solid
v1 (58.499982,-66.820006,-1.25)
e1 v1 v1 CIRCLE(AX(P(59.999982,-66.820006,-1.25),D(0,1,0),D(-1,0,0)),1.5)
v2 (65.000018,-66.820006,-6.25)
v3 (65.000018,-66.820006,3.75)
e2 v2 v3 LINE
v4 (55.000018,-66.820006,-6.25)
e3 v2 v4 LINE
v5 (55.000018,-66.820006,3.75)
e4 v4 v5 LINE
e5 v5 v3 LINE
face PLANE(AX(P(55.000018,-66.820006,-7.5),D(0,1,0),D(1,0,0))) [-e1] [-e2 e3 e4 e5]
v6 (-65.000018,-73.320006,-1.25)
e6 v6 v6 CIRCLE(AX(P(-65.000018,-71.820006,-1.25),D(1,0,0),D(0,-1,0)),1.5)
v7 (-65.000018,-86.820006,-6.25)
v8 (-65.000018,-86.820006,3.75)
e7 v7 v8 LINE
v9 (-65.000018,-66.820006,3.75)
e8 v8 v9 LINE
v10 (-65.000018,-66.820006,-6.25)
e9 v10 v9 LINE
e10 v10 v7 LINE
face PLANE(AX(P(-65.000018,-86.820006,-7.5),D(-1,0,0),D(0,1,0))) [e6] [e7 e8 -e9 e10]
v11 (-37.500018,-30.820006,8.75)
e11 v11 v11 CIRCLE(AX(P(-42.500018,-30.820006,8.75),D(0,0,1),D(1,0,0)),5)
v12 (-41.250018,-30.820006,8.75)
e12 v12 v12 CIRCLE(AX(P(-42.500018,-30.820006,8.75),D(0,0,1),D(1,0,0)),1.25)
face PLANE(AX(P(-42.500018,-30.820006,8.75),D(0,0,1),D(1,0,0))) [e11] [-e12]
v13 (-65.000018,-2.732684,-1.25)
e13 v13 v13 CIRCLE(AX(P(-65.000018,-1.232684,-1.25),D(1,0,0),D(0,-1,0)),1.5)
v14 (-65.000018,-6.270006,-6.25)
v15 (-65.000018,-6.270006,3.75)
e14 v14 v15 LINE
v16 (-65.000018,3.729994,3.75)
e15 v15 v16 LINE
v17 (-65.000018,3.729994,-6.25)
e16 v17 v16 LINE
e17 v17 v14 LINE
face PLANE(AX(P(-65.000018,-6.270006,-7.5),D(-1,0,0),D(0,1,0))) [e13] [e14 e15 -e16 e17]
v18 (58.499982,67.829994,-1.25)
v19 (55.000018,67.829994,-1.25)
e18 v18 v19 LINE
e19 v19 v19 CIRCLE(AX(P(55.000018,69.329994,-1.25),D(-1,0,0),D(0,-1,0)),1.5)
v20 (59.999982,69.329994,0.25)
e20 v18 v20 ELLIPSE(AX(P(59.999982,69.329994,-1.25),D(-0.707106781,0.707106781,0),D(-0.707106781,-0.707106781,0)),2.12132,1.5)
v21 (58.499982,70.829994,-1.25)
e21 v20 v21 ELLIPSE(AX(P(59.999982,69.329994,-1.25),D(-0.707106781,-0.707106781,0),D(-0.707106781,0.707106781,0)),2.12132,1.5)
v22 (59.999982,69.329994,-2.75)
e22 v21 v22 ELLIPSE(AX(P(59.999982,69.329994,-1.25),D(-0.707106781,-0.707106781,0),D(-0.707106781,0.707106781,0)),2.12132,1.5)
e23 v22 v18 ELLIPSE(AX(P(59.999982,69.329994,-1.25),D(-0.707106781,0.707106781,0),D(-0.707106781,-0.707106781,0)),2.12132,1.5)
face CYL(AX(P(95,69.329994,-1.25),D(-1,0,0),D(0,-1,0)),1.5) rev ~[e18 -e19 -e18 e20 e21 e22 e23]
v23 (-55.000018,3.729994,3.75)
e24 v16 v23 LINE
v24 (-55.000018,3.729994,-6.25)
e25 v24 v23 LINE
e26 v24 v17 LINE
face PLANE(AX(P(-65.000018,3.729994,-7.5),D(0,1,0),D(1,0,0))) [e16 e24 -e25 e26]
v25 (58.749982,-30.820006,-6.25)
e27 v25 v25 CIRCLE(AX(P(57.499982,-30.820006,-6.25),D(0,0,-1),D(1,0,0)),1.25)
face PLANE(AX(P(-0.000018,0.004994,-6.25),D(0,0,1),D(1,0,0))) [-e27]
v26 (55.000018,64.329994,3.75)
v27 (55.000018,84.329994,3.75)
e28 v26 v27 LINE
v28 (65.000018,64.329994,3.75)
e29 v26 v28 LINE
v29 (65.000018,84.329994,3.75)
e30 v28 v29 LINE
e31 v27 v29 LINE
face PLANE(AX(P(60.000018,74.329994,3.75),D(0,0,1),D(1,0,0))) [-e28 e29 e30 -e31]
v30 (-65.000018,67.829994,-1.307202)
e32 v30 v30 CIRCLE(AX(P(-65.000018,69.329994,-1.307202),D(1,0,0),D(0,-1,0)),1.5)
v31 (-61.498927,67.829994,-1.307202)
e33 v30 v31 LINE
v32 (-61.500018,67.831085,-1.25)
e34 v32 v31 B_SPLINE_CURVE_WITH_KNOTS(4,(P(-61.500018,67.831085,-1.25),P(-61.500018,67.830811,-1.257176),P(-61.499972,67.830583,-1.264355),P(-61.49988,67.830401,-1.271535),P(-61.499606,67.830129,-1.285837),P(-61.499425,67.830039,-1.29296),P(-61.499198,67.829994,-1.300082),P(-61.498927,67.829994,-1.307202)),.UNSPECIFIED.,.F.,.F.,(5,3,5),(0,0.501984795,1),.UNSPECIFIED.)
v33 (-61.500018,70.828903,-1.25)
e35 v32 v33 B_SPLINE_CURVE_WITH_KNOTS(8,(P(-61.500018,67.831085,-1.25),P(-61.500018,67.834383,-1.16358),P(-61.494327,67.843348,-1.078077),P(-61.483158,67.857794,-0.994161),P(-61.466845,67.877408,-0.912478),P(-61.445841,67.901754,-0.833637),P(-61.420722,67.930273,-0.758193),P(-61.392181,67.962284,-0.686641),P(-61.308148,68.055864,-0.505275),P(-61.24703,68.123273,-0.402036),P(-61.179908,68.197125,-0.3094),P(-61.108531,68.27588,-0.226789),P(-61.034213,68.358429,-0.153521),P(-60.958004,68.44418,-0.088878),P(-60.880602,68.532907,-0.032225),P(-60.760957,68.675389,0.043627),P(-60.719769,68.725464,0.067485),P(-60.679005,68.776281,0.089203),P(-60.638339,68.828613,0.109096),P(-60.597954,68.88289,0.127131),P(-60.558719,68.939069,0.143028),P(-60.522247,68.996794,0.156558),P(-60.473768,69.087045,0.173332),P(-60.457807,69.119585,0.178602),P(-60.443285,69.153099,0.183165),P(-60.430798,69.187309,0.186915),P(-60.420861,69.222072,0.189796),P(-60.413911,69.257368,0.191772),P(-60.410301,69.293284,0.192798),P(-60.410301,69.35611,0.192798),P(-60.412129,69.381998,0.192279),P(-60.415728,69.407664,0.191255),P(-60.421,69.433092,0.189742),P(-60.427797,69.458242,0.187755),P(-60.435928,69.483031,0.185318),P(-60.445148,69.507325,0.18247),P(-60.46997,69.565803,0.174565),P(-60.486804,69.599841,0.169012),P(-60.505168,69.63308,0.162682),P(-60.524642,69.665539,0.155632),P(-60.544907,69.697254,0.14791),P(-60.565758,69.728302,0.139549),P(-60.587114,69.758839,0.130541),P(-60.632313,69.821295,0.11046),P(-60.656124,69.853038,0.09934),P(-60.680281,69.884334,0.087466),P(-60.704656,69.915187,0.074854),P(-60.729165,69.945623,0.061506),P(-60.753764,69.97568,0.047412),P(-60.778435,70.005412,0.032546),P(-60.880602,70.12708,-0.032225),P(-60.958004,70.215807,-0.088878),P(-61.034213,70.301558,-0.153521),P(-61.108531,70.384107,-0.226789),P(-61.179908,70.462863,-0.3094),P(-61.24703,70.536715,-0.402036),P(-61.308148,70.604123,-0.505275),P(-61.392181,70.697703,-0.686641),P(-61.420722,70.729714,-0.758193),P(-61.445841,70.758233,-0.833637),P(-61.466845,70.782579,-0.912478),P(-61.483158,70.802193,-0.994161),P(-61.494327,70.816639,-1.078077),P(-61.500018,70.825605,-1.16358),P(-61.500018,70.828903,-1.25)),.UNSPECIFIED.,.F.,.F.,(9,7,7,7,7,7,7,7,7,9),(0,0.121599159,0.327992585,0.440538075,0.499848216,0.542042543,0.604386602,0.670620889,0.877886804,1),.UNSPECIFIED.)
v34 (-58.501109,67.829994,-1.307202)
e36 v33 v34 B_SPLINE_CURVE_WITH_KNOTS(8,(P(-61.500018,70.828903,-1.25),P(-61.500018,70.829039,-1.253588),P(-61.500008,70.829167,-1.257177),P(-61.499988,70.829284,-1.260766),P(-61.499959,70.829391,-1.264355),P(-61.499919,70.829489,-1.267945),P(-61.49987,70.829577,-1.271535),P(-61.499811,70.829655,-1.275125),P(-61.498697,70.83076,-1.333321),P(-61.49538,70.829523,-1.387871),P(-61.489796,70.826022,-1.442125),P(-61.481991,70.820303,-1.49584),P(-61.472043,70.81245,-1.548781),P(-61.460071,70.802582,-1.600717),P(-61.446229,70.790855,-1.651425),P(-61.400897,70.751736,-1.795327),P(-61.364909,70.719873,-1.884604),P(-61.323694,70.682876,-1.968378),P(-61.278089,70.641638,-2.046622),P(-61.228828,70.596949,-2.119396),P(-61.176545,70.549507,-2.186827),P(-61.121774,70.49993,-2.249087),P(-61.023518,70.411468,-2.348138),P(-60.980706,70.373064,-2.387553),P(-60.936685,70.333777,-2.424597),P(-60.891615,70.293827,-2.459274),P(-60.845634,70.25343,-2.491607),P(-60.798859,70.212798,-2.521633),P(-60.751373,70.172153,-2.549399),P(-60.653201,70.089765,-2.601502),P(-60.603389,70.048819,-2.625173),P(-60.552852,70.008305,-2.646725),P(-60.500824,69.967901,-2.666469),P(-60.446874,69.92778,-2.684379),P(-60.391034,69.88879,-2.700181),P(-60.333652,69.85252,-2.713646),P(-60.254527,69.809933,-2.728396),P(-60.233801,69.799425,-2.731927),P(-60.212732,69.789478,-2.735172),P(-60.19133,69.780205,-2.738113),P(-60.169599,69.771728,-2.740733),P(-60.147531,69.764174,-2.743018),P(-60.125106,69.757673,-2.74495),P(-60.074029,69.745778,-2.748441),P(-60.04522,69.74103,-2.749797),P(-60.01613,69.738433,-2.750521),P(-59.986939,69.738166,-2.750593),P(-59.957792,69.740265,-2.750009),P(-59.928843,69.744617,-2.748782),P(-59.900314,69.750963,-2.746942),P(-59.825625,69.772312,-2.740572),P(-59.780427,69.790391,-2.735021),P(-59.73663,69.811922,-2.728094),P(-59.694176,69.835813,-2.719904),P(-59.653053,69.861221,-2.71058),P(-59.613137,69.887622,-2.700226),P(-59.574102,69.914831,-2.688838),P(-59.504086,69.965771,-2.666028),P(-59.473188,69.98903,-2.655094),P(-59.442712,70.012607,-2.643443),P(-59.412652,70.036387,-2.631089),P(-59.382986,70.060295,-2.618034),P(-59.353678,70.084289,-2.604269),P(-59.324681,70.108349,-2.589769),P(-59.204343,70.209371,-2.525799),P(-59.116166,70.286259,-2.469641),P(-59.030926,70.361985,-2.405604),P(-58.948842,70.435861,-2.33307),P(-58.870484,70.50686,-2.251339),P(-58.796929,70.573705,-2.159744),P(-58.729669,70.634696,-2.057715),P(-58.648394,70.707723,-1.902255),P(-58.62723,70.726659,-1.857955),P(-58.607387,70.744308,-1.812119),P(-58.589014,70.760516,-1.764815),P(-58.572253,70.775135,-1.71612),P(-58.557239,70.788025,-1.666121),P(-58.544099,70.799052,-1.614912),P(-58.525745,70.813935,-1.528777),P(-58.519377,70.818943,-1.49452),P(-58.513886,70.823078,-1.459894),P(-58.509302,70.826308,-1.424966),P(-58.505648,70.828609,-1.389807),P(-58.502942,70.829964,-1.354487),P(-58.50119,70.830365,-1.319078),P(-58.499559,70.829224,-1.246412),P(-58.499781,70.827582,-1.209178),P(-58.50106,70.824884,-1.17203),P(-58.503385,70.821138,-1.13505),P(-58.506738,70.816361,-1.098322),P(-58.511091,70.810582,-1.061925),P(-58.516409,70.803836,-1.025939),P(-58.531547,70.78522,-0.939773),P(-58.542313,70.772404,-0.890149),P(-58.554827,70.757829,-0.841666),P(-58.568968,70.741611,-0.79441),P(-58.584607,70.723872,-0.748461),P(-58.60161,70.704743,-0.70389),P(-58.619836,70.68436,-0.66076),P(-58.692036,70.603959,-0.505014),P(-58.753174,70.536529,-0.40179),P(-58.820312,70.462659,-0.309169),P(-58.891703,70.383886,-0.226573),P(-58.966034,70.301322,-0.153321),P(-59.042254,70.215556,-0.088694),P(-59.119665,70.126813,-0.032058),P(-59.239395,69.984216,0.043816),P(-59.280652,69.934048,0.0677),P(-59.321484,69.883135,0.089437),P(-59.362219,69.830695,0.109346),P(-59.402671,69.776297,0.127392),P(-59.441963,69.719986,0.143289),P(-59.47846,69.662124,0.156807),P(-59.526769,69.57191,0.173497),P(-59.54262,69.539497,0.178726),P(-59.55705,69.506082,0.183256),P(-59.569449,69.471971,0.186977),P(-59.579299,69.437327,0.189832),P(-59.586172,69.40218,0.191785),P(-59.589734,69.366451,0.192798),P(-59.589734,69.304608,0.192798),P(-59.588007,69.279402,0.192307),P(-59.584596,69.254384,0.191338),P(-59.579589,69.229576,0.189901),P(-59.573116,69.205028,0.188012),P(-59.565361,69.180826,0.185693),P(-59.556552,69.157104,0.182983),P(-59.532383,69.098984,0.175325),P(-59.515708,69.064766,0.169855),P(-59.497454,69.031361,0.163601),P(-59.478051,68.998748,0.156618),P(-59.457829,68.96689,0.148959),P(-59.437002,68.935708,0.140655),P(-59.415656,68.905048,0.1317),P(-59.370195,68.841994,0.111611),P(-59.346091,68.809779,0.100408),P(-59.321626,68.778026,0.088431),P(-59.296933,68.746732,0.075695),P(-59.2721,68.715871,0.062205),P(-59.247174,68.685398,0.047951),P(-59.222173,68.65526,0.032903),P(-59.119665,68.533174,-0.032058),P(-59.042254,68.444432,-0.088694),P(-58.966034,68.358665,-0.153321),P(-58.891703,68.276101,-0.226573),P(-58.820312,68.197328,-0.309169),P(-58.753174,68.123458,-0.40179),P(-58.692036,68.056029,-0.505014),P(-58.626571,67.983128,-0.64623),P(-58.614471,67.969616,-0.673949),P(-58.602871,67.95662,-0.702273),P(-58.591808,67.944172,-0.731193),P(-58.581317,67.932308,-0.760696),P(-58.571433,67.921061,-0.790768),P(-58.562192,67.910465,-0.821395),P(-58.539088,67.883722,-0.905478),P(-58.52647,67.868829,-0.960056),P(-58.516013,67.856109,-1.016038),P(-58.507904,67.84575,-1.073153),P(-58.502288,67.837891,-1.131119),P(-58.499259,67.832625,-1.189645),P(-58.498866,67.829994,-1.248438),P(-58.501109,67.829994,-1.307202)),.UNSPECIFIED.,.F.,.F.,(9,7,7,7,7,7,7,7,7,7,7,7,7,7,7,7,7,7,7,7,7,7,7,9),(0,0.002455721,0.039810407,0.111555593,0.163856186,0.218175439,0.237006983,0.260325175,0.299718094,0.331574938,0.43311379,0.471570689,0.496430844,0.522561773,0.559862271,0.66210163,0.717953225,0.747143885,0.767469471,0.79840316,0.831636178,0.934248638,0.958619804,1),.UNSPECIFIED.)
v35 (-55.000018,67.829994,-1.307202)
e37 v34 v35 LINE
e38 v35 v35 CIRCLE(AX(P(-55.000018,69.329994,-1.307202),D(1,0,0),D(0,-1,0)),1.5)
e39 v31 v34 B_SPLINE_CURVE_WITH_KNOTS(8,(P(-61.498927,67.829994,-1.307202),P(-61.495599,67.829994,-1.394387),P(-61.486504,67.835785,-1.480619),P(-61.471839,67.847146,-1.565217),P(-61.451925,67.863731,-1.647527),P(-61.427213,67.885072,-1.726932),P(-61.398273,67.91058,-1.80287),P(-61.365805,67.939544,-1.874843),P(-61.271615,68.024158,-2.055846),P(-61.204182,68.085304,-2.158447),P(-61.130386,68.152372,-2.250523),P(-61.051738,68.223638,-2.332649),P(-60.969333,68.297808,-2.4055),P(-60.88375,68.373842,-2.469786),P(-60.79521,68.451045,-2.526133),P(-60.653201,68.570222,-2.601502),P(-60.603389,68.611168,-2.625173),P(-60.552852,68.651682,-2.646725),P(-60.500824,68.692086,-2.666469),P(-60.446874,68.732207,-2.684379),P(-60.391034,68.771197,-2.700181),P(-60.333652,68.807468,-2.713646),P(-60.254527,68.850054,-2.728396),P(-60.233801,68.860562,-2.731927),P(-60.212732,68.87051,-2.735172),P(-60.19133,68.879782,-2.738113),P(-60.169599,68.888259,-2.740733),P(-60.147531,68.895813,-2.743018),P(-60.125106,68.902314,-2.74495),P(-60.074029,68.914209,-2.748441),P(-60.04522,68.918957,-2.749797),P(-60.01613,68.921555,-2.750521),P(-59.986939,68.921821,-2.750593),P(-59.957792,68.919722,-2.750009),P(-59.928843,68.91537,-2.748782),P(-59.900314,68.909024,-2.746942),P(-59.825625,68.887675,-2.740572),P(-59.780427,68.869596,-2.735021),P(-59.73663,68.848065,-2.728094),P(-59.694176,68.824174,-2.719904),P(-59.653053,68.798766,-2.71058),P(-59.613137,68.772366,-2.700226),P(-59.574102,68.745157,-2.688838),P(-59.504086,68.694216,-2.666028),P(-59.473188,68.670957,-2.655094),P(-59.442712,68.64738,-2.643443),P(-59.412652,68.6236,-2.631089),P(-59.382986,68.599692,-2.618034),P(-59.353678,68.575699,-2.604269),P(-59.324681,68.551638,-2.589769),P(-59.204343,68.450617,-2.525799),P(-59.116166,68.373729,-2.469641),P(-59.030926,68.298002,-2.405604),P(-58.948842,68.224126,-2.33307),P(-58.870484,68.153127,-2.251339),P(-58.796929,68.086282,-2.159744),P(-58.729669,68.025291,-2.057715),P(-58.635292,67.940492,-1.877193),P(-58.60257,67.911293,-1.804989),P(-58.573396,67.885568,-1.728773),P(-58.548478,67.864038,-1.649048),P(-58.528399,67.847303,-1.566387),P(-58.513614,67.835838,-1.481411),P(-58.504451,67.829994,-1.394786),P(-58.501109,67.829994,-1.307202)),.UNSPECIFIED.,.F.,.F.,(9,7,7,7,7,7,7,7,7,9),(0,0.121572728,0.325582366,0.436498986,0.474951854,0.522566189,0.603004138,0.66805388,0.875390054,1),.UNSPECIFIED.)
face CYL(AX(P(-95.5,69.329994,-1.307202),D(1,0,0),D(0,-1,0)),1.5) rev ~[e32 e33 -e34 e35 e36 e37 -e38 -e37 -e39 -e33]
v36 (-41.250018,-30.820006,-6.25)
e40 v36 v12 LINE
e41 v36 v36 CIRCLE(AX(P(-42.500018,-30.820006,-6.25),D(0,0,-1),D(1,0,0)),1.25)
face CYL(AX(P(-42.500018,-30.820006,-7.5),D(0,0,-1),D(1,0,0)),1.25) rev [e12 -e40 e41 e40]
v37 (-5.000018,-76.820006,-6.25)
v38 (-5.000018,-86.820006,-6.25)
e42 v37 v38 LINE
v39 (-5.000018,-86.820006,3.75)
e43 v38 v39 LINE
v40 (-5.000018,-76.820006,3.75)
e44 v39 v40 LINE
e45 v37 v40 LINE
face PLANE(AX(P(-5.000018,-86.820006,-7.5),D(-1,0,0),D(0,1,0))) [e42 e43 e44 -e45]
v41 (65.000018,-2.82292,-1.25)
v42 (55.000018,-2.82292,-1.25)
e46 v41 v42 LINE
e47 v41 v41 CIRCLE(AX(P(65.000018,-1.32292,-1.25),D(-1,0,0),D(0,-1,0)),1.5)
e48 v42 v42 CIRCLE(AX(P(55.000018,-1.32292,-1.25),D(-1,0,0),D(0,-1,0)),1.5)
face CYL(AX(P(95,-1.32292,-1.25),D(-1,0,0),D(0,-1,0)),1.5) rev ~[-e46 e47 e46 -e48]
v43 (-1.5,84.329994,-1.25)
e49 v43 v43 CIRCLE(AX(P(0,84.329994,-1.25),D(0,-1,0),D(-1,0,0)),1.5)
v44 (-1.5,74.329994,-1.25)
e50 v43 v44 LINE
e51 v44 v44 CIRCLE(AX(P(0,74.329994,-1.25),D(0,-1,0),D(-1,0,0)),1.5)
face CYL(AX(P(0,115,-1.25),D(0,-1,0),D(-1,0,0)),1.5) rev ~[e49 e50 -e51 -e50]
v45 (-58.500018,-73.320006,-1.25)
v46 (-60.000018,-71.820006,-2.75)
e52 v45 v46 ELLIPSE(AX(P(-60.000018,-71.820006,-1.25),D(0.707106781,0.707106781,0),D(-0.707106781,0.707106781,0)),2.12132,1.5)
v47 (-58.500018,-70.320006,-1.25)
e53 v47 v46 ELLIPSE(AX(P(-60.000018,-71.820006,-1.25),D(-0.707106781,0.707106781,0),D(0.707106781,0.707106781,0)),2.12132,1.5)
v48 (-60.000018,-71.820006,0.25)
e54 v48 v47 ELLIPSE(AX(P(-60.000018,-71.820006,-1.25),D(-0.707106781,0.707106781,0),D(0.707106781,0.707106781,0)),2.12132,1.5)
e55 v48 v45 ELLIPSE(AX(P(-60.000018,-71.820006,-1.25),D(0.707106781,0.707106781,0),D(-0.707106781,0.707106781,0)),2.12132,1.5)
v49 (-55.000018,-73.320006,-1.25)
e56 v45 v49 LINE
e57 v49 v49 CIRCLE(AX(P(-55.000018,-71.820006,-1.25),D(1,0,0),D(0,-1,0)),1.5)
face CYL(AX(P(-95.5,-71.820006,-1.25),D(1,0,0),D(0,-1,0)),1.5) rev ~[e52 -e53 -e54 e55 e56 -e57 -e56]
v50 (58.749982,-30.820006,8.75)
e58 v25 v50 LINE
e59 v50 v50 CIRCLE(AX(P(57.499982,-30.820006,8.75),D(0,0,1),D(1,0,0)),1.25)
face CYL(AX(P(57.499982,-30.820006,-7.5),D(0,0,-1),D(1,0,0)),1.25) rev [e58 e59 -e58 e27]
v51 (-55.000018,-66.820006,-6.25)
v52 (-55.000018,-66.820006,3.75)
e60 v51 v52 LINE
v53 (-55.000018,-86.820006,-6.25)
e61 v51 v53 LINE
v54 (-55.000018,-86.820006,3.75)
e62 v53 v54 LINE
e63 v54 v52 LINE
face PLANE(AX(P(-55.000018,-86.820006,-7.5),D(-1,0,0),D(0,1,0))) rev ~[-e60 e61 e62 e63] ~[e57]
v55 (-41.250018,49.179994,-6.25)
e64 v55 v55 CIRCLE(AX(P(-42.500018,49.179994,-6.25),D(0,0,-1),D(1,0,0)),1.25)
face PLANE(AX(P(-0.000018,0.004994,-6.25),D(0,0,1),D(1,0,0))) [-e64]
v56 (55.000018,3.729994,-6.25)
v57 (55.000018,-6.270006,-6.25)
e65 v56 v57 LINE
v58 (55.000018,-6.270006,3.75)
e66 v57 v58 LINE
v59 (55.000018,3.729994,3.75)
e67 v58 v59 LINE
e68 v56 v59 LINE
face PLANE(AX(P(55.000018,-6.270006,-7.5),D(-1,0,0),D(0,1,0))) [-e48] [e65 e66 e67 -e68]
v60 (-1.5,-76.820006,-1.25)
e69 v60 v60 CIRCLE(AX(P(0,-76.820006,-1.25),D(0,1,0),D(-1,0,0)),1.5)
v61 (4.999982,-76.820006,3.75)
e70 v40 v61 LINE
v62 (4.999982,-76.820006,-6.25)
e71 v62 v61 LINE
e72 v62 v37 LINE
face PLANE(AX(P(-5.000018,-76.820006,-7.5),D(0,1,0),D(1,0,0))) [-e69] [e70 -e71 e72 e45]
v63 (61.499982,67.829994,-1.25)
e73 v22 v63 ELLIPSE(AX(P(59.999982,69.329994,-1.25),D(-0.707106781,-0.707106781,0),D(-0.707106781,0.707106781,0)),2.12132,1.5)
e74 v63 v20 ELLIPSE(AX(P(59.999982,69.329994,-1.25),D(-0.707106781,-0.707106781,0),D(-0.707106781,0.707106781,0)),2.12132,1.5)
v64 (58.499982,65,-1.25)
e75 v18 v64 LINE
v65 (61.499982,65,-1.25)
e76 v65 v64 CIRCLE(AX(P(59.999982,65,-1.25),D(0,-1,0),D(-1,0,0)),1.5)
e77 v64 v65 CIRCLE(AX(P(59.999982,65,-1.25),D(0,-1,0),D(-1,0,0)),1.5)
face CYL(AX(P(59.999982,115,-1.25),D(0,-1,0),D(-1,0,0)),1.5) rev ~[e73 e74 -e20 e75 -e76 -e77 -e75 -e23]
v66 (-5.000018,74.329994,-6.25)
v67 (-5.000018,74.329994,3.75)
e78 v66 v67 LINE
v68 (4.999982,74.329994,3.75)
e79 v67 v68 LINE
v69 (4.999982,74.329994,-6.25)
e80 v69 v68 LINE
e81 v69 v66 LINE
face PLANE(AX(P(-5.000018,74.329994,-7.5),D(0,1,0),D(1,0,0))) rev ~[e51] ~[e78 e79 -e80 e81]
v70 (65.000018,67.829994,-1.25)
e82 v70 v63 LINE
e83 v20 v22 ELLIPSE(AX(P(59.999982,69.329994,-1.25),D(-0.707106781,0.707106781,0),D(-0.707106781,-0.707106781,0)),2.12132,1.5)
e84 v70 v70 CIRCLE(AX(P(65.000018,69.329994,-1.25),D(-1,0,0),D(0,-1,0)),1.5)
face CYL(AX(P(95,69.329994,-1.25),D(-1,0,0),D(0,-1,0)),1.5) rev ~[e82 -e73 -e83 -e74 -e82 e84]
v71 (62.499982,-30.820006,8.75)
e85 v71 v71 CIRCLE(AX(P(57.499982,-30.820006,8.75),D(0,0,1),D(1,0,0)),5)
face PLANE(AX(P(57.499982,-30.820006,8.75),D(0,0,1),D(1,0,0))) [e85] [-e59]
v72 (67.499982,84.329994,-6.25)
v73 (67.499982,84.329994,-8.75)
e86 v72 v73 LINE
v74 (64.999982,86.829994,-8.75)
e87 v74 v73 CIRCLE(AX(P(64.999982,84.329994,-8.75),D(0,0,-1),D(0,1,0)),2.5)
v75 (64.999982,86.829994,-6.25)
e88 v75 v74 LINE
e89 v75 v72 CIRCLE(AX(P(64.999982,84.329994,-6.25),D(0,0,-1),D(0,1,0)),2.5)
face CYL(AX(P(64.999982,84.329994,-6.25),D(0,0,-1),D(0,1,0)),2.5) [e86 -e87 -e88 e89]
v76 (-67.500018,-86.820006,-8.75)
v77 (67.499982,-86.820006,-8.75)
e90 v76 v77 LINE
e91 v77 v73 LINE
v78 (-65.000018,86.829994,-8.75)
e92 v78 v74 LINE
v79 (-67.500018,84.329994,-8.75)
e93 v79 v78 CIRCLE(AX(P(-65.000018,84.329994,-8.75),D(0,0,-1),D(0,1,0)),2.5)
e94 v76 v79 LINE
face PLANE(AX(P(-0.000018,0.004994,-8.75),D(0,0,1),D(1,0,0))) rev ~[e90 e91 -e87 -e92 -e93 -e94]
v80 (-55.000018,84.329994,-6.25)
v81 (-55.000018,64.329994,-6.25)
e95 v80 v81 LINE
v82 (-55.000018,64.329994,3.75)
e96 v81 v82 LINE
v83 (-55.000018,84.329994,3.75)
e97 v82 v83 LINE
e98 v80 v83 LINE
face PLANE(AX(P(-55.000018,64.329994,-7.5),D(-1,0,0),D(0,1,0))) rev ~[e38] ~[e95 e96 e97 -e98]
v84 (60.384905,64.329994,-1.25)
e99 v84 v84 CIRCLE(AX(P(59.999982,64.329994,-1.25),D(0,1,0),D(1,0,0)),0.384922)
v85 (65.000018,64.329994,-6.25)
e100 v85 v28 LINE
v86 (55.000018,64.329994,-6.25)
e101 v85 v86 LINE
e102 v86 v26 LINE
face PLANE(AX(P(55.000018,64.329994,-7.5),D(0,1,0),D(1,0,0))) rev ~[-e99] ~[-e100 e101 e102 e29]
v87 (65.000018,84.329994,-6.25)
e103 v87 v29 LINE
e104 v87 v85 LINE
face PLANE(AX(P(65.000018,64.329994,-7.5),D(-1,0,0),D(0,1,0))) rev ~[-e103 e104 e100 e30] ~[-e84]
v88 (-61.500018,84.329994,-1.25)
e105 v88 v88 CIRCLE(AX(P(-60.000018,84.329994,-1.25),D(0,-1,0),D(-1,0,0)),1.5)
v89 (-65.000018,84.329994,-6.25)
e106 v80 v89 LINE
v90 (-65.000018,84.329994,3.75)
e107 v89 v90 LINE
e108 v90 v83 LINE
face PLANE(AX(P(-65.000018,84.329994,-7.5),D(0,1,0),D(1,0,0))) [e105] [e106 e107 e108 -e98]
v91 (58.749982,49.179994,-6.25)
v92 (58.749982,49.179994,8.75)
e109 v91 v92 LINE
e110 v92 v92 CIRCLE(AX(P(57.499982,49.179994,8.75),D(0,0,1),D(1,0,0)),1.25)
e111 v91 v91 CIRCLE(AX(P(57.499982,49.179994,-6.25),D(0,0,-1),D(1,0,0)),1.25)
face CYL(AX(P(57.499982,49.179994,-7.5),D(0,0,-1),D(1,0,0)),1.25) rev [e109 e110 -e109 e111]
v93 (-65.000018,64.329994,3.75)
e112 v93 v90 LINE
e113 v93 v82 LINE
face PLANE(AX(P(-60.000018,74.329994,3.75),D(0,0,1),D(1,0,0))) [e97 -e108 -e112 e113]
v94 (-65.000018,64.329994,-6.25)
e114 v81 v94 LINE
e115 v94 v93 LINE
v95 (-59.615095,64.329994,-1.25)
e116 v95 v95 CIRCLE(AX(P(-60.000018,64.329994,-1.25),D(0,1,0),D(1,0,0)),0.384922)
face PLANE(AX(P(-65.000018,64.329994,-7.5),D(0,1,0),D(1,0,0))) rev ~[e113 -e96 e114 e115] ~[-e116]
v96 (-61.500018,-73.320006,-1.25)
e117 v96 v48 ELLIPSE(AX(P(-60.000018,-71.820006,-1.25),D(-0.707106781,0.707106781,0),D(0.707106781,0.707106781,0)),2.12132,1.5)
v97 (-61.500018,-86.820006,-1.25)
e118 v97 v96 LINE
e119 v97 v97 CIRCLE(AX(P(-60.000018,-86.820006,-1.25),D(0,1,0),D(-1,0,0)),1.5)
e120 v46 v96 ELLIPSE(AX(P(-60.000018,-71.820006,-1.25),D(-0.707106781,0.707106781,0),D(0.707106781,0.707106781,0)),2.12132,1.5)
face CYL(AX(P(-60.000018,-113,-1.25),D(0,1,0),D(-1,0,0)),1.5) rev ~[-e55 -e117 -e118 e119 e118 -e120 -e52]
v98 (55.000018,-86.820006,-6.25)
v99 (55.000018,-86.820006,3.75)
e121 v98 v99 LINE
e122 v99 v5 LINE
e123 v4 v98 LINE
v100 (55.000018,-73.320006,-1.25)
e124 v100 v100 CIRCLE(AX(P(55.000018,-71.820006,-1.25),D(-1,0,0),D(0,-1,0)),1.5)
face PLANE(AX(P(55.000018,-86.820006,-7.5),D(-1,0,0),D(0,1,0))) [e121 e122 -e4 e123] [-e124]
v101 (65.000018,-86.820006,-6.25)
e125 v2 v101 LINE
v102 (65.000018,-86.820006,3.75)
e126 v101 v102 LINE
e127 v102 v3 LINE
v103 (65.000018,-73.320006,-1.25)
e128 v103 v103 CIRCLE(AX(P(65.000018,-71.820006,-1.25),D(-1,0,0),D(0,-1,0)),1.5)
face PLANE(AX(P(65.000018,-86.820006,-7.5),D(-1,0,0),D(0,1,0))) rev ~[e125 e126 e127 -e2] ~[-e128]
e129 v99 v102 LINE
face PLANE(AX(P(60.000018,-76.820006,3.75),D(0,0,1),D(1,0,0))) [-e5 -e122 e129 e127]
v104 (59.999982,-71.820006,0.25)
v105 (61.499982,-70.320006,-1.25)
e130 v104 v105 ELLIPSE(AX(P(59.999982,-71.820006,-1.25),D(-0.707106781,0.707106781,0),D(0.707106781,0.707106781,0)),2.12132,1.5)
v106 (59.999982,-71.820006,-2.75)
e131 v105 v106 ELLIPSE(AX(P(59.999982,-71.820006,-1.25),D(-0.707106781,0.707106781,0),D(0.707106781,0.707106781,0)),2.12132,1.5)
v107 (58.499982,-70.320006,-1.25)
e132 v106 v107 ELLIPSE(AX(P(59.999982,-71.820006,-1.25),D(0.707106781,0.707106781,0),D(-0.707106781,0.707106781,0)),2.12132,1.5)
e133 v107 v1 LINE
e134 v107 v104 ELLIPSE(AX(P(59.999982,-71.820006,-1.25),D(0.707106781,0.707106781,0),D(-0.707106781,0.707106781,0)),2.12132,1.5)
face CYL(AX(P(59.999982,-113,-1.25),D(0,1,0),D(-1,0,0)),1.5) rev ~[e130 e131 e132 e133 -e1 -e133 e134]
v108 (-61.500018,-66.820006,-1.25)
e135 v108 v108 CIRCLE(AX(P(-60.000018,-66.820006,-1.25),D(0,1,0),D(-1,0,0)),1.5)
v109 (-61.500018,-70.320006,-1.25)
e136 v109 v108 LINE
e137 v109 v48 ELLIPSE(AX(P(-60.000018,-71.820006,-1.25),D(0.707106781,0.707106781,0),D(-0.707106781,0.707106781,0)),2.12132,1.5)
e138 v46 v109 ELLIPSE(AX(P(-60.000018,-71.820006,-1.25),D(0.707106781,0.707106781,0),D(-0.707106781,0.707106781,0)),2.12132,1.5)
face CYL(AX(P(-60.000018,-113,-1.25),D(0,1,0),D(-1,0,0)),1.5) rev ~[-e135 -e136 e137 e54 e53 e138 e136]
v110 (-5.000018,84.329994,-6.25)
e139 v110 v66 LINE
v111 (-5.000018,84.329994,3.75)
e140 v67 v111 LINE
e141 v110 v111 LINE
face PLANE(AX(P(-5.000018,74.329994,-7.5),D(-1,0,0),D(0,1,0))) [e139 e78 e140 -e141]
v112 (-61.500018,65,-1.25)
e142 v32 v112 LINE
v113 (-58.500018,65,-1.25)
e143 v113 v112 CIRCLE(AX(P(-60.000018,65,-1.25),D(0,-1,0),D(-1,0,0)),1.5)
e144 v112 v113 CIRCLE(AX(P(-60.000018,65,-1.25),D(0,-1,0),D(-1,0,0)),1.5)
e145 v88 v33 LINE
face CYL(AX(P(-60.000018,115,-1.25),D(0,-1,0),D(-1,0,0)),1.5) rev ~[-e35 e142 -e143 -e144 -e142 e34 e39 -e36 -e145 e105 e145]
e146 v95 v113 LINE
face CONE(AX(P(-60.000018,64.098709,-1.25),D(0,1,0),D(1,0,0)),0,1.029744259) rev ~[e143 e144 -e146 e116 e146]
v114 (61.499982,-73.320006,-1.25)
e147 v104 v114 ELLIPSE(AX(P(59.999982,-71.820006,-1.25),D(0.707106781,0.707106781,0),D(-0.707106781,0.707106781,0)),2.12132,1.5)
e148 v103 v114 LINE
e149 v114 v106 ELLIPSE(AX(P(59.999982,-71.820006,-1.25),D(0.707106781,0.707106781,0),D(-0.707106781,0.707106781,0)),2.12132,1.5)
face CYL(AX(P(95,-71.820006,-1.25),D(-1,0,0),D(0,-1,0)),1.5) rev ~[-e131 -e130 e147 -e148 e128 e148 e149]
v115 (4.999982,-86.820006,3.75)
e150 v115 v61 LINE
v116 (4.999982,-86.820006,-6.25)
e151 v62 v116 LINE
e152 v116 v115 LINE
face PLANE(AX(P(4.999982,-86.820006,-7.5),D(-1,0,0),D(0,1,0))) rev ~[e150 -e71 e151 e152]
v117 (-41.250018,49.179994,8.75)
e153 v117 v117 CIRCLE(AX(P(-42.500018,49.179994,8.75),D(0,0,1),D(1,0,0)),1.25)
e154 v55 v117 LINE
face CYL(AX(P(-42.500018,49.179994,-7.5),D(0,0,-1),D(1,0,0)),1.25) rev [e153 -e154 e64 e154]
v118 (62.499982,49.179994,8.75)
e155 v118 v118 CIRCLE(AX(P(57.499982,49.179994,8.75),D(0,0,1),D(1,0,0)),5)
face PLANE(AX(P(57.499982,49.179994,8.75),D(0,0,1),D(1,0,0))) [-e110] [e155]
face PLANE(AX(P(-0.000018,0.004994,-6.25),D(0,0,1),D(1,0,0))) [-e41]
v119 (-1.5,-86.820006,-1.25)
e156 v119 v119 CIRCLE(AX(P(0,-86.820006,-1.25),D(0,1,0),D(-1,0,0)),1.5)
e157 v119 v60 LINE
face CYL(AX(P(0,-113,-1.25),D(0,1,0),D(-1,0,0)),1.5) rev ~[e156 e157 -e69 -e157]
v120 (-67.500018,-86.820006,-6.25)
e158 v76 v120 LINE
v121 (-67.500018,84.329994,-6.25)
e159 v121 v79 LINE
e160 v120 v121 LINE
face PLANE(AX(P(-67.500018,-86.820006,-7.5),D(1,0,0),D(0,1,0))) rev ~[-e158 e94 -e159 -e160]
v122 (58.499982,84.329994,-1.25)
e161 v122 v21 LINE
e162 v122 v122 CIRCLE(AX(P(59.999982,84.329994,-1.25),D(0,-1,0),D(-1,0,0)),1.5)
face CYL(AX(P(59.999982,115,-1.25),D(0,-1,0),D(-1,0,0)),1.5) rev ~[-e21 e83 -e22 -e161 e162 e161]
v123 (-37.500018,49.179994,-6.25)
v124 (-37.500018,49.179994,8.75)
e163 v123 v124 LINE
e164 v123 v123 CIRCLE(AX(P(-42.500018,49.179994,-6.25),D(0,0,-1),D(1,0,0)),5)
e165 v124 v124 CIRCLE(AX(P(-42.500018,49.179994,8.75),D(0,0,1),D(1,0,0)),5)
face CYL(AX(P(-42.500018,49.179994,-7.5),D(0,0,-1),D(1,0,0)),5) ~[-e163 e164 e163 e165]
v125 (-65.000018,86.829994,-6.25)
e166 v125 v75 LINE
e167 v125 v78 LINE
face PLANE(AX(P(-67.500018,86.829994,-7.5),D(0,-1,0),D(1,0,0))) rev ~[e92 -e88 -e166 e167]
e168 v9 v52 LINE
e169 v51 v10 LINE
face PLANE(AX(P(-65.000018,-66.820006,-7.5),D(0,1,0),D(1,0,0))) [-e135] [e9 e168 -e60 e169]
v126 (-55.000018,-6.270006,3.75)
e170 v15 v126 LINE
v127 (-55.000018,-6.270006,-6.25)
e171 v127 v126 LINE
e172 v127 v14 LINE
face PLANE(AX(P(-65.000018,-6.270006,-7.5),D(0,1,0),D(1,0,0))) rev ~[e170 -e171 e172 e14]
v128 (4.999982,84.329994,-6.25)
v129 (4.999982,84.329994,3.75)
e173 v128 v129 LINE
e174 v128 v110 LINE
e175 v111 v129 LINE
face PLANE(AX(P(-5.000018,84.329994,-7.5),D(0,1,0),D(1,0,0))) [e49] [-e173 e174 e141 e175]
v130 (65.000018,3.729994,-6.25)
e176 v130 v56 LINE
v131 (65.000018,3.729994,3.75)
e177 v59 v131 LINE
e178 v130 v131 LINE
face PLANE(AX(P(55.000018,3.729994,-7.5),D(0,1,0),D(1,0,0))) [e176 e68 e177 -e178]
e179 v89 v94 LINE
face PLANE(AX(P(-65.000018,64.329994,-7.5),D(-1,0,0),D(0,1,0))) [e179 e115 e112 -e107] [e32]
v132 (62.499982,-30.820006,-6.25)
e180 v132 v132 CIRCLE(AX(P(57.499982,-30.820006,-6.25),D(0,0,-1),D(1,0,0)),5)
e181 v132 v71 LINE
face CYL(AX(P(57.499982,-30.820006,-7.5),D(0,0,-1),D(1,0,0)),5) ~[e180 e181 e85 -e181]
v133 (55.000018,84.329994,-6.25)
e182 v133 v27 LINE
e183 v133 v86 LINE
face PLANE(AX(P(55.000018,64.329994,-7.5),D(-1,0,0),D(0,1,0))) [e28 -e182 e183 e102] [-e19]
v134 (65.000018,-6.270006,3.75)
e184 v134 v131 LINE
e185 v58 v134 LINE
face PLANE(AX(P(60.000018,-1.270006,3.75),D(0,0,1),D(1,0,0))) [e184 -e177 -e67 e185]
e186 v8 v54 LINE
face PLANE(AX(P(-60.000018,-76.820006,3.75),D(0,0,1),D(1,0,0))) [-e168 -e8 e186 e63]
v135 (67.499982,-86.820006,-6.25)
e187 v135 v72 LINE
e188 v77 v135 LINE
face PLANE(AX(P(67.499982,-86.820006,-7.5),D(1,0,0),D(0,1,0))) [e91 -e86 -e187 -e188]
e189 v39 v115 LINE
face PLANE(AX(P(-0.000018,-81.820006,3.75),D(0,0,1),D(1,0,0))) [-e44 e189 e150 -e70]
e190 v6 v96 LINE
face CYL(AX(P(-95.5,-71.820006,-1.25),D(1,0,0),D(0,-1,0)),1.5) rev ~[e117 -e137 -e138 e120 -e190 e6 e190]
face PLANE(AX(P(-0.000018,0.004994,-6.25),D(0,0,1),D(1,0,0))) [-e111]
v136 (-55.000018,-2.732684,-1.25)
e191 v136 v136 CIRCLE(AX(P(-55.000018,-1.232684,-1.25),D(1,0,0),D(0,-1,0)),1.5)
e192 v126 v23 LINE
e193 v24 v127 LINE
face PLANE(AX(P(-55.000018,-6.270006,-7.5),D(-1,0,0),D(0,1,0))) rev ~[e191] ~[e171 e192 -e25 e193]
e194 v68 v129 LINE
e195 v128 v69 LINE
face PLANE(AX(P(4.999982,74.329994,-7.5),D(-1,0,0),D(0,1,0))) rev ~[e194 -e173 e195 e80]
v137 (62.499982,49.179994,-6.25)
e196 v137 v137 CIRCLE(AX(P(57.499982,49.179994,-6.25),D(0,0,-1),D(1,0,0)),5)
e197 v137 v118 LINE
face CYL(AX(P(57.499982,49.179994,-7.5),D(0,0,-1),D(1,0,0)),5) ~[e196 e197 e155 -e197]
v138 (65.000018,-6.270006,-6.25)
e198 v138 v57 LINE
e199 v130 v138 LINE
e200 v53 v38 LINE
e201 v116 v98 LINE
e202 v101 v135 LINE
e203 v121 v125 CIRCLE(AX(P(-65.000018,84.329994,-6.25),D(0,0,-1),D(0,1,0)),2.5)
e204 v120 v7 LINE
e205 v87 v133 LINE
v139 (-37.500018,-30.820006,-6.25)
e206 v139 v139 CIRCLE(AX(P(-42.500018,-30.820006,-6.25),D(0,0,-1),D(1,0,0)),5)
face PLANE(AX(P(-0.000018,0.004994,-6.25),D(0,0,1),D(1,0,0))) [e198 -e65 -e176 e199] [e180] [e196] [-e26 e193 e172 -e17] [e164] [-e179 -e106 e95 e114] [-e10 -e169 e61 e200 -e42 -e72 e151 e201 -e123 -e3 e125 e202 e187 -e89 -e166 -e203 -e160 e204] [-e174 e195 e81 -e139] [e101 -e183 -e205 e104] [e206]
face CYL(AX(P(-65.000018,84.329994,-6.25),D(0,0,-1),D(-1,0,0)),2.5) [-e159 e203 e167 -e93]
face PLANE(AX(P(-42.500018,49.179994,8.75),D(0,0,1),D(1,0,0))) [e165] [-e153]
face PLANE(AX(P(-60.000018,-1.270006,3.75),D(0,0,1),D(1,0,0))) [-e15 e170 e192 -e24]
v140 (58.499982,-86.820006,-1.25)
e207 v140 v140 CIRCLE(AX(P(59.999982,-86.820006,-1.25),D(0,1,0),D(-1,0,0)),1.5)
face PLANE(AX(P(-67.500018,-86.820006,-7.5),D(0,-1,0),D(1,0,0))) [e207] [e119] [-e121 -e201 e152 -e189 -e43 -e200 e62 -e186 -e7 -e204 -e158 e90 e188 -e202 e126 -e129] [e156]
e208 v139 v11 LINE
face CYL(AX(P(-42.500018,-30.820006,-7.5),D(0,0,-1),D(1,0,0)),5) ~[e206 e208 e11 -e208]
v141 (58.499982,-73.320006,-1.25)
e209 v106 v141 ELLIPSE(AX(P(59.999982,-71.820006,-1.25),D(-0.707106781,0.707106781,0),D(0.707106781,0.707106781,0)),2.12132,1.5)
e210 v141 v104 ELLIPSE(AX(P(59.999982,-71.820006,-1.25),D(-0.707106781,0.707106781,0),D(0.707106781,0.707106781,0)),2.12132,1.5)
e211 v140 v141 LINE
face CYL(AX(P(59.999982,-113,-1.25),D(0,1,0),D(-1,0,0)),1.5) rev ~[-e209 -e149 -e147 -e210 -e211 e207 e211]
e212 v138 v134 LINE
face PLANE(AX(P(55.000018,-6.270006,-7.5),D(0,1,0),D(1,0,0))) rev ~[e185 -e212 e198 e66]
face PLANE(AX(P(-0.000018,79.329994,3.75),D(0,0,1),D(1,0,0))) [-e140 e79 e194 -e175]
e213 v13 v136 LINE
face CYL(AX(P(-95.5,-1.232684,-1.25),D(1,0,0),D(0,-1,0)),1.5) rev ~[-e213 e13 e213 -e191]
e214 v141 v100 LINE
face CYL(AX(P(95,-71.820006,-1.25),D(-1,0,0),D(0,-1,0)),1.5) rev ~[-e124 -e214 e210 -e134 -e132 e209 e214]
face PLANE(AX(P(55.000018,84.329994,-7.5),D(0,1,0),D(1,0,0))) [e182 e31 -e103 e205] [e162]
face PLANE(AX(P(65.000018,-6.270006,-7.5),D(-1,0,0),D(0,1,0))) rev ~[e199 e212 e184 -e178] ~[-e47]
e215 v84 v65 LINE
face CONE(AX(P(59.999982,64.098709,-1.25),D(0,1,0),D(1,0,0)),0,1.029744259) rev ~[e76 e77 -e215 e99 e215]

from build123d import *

# Parameters (mm, degrees)
F1_W      = 135
F1_H      = 173.65
F2_DEPTH  = 1.25
F3_W      = 10
F3_H      = 10
F3_H_2    = 20
F4_DEPTH  = 11.25
F5_R      = 5
F5_R_2    = 1.25
F6_DEPTH  = 16.25
F7_R      = 2.5
F16_D     = 3
F16_DEPTH = 25
F16_TIP   = 0.9012909285
F17_D     = 3
F17_DEPTH = 25
F17_TIP   = 0.9012909285
F18_D     = 3
F18_DEPTH = 25
F18_TIP   = 0.9012909285
F19_D     = 3
F19_DEPTH = 25
F19_TIP   = 0.9012909285


with BuildPart() as f2:
    # F1 (on offset) → F2 (new body, symmetric)
    with BuildSketch(Plane.XY.offset(-7.5)):
        with Locations((-1.75834e-05, 0.0049936295)):
            Rectangle(F1_W, F1_H)
    extrude(amount=F2_DEPTH, both=True)

    # F3 (on offset) → F4 (join)
    with BuildSketch(Plane.XY.offset(-7.5)):
        with Locations((-60.0000175834, -1.2700063705)):
            Rectangle(F3_W, F3_H)
        with Locations((-1.75834e-05, 79.3299936295)):
            Rectangle(F3_W, F3_H)
        with Locations((-60.0000175834, 74.3299936295)):
            Rectangle(F3_W, F3_H_2)
        with Locations((-60.0000175834, -76.8200063705)):
            Rectangle(F3_W, F3_H_2)
        with Locations((-1.75834e-05, -81.8200063705)):
            Rectangle(F3_W, F3_H)
        with Locations((60.0000175834, -1.2700063705)):
            Rectangle(F3_W, F3_H)
        with Locations((60.0000175834, 74.3299936295)):
            Rectangle(F3_W, F3_H_2)
        with Locations((60.0000175834, -76.8200063705)):
            Rectangle(F3_W, F3_H_2)
    extrude(amount=F4_DEPTH)

    # F5 (on offset) → F6 (join)
    with BuildSketch(Plane.XY.offset(-7.5)):
        with Locations((-42.5000175834, 49.1799936295)):
            Circle(F5_R)
        with Locations((-42.5000175834, 49.1799936295)):
            Circle(F5_R_2, mode=Mode.SUBTRACT)
        with Locations((-42.5000175834, -30.8200063705)):
            Circle(F5_R)
        with Locations((-42.5000175834, -30.8200063705)):
            Circle(F5_R_2, mode=Mode.SUBTRACT)
        with Locations((57.4999824166, -30.8200063705)):
            Circle(F5_R)
        with Locations((57.4999824166, -30.8200063705)):
            Circle(F5_R_2, mode=Mode.SUBTRACT)
        with Locations((57.4999824166, 49.1799936295)):
            Circle(F5_R)
        with Locations((57.4999824166, 49.1799936295)):
            Circle(F5_R_2, mode=Mode.SUBTRACT)
    extrude(amount=F6_DEPTH)

    # F7
    f7_edges = [f2.edges().sort_by_distance(p)[0] for p in [
        (-67.500018, 86.829994, -7.5),
        (67.499982, 86.829994, -7.5),
    ]]
    fillet(f7_edges, radius=F7_R)

    # F16
    with Locations(Plane.XZ.offset(88)):
        with Locations((-60.0000175834, -1.25), (0, -1.25), (59.9999824166, -1.25)):
            Hole(F16_D / 2, depth=F16_DEPTH)
            with Locations((0, 0, -(F16_DEPTH + F16_TIP / 2))):  # 118° drill point
                Cone(0, F16_D / 2, F16_TIP, mode=Mode.SUBTRACT)

    # F17
    with Locations(Plane.YZ.offset(70)):
        with Locations((-71.8200063705, -1.25), (-1.3229202013, -1.25), (69.3299936295, -1.25)):
            Hole(F17_D / 2, depth=F17_DEPTH)
            with Locations((0, 0, -(F17_DEPTH + F17_TIP / 2))):  # 118° drill point
                Cone(0, F17_D / 2, F17_TIP, mode=Mode.SUBTRACT)

    # F18
    with Locations(Plane(origin=(0, 90, 0), x_dir=(1, 0, 0), z_dir=(0, 1, 0))):
        with Locations((59.9999824166, 1.25), (0, 1.25), (-60.0000175834, 1.25)):
            Hole(F18_D / 2, depth=F18_DEPTH)
            with Locations((0, 0, -(F18_DEPTH + F18_TIP / 2))):  # 118° drill point
                Cone(0, F18_D / 2, F18_TIP, mode=Mode.SUBTRACT)

    # F19
    with Locations(Plane(origin=(-70.5, 0, 0), x_dir=(0, 1, 0), z_dir=(-1, 0, 0))):
        with Locations((69.3299936295, 1.30720163), (-1.2326835422, 1.25), (-71.8200063705, 1.25)):
            Hole(F19_D / 2, depth=F19_DEPTH)
            with Locations((0, 0, -(F19_DEPTH + F19_TIP / 2))):  # 118° drill point
                Cone(0, F19_D / 2, F19_TIP, mode=Mode.SUBTRACT)


solid = f2.part
